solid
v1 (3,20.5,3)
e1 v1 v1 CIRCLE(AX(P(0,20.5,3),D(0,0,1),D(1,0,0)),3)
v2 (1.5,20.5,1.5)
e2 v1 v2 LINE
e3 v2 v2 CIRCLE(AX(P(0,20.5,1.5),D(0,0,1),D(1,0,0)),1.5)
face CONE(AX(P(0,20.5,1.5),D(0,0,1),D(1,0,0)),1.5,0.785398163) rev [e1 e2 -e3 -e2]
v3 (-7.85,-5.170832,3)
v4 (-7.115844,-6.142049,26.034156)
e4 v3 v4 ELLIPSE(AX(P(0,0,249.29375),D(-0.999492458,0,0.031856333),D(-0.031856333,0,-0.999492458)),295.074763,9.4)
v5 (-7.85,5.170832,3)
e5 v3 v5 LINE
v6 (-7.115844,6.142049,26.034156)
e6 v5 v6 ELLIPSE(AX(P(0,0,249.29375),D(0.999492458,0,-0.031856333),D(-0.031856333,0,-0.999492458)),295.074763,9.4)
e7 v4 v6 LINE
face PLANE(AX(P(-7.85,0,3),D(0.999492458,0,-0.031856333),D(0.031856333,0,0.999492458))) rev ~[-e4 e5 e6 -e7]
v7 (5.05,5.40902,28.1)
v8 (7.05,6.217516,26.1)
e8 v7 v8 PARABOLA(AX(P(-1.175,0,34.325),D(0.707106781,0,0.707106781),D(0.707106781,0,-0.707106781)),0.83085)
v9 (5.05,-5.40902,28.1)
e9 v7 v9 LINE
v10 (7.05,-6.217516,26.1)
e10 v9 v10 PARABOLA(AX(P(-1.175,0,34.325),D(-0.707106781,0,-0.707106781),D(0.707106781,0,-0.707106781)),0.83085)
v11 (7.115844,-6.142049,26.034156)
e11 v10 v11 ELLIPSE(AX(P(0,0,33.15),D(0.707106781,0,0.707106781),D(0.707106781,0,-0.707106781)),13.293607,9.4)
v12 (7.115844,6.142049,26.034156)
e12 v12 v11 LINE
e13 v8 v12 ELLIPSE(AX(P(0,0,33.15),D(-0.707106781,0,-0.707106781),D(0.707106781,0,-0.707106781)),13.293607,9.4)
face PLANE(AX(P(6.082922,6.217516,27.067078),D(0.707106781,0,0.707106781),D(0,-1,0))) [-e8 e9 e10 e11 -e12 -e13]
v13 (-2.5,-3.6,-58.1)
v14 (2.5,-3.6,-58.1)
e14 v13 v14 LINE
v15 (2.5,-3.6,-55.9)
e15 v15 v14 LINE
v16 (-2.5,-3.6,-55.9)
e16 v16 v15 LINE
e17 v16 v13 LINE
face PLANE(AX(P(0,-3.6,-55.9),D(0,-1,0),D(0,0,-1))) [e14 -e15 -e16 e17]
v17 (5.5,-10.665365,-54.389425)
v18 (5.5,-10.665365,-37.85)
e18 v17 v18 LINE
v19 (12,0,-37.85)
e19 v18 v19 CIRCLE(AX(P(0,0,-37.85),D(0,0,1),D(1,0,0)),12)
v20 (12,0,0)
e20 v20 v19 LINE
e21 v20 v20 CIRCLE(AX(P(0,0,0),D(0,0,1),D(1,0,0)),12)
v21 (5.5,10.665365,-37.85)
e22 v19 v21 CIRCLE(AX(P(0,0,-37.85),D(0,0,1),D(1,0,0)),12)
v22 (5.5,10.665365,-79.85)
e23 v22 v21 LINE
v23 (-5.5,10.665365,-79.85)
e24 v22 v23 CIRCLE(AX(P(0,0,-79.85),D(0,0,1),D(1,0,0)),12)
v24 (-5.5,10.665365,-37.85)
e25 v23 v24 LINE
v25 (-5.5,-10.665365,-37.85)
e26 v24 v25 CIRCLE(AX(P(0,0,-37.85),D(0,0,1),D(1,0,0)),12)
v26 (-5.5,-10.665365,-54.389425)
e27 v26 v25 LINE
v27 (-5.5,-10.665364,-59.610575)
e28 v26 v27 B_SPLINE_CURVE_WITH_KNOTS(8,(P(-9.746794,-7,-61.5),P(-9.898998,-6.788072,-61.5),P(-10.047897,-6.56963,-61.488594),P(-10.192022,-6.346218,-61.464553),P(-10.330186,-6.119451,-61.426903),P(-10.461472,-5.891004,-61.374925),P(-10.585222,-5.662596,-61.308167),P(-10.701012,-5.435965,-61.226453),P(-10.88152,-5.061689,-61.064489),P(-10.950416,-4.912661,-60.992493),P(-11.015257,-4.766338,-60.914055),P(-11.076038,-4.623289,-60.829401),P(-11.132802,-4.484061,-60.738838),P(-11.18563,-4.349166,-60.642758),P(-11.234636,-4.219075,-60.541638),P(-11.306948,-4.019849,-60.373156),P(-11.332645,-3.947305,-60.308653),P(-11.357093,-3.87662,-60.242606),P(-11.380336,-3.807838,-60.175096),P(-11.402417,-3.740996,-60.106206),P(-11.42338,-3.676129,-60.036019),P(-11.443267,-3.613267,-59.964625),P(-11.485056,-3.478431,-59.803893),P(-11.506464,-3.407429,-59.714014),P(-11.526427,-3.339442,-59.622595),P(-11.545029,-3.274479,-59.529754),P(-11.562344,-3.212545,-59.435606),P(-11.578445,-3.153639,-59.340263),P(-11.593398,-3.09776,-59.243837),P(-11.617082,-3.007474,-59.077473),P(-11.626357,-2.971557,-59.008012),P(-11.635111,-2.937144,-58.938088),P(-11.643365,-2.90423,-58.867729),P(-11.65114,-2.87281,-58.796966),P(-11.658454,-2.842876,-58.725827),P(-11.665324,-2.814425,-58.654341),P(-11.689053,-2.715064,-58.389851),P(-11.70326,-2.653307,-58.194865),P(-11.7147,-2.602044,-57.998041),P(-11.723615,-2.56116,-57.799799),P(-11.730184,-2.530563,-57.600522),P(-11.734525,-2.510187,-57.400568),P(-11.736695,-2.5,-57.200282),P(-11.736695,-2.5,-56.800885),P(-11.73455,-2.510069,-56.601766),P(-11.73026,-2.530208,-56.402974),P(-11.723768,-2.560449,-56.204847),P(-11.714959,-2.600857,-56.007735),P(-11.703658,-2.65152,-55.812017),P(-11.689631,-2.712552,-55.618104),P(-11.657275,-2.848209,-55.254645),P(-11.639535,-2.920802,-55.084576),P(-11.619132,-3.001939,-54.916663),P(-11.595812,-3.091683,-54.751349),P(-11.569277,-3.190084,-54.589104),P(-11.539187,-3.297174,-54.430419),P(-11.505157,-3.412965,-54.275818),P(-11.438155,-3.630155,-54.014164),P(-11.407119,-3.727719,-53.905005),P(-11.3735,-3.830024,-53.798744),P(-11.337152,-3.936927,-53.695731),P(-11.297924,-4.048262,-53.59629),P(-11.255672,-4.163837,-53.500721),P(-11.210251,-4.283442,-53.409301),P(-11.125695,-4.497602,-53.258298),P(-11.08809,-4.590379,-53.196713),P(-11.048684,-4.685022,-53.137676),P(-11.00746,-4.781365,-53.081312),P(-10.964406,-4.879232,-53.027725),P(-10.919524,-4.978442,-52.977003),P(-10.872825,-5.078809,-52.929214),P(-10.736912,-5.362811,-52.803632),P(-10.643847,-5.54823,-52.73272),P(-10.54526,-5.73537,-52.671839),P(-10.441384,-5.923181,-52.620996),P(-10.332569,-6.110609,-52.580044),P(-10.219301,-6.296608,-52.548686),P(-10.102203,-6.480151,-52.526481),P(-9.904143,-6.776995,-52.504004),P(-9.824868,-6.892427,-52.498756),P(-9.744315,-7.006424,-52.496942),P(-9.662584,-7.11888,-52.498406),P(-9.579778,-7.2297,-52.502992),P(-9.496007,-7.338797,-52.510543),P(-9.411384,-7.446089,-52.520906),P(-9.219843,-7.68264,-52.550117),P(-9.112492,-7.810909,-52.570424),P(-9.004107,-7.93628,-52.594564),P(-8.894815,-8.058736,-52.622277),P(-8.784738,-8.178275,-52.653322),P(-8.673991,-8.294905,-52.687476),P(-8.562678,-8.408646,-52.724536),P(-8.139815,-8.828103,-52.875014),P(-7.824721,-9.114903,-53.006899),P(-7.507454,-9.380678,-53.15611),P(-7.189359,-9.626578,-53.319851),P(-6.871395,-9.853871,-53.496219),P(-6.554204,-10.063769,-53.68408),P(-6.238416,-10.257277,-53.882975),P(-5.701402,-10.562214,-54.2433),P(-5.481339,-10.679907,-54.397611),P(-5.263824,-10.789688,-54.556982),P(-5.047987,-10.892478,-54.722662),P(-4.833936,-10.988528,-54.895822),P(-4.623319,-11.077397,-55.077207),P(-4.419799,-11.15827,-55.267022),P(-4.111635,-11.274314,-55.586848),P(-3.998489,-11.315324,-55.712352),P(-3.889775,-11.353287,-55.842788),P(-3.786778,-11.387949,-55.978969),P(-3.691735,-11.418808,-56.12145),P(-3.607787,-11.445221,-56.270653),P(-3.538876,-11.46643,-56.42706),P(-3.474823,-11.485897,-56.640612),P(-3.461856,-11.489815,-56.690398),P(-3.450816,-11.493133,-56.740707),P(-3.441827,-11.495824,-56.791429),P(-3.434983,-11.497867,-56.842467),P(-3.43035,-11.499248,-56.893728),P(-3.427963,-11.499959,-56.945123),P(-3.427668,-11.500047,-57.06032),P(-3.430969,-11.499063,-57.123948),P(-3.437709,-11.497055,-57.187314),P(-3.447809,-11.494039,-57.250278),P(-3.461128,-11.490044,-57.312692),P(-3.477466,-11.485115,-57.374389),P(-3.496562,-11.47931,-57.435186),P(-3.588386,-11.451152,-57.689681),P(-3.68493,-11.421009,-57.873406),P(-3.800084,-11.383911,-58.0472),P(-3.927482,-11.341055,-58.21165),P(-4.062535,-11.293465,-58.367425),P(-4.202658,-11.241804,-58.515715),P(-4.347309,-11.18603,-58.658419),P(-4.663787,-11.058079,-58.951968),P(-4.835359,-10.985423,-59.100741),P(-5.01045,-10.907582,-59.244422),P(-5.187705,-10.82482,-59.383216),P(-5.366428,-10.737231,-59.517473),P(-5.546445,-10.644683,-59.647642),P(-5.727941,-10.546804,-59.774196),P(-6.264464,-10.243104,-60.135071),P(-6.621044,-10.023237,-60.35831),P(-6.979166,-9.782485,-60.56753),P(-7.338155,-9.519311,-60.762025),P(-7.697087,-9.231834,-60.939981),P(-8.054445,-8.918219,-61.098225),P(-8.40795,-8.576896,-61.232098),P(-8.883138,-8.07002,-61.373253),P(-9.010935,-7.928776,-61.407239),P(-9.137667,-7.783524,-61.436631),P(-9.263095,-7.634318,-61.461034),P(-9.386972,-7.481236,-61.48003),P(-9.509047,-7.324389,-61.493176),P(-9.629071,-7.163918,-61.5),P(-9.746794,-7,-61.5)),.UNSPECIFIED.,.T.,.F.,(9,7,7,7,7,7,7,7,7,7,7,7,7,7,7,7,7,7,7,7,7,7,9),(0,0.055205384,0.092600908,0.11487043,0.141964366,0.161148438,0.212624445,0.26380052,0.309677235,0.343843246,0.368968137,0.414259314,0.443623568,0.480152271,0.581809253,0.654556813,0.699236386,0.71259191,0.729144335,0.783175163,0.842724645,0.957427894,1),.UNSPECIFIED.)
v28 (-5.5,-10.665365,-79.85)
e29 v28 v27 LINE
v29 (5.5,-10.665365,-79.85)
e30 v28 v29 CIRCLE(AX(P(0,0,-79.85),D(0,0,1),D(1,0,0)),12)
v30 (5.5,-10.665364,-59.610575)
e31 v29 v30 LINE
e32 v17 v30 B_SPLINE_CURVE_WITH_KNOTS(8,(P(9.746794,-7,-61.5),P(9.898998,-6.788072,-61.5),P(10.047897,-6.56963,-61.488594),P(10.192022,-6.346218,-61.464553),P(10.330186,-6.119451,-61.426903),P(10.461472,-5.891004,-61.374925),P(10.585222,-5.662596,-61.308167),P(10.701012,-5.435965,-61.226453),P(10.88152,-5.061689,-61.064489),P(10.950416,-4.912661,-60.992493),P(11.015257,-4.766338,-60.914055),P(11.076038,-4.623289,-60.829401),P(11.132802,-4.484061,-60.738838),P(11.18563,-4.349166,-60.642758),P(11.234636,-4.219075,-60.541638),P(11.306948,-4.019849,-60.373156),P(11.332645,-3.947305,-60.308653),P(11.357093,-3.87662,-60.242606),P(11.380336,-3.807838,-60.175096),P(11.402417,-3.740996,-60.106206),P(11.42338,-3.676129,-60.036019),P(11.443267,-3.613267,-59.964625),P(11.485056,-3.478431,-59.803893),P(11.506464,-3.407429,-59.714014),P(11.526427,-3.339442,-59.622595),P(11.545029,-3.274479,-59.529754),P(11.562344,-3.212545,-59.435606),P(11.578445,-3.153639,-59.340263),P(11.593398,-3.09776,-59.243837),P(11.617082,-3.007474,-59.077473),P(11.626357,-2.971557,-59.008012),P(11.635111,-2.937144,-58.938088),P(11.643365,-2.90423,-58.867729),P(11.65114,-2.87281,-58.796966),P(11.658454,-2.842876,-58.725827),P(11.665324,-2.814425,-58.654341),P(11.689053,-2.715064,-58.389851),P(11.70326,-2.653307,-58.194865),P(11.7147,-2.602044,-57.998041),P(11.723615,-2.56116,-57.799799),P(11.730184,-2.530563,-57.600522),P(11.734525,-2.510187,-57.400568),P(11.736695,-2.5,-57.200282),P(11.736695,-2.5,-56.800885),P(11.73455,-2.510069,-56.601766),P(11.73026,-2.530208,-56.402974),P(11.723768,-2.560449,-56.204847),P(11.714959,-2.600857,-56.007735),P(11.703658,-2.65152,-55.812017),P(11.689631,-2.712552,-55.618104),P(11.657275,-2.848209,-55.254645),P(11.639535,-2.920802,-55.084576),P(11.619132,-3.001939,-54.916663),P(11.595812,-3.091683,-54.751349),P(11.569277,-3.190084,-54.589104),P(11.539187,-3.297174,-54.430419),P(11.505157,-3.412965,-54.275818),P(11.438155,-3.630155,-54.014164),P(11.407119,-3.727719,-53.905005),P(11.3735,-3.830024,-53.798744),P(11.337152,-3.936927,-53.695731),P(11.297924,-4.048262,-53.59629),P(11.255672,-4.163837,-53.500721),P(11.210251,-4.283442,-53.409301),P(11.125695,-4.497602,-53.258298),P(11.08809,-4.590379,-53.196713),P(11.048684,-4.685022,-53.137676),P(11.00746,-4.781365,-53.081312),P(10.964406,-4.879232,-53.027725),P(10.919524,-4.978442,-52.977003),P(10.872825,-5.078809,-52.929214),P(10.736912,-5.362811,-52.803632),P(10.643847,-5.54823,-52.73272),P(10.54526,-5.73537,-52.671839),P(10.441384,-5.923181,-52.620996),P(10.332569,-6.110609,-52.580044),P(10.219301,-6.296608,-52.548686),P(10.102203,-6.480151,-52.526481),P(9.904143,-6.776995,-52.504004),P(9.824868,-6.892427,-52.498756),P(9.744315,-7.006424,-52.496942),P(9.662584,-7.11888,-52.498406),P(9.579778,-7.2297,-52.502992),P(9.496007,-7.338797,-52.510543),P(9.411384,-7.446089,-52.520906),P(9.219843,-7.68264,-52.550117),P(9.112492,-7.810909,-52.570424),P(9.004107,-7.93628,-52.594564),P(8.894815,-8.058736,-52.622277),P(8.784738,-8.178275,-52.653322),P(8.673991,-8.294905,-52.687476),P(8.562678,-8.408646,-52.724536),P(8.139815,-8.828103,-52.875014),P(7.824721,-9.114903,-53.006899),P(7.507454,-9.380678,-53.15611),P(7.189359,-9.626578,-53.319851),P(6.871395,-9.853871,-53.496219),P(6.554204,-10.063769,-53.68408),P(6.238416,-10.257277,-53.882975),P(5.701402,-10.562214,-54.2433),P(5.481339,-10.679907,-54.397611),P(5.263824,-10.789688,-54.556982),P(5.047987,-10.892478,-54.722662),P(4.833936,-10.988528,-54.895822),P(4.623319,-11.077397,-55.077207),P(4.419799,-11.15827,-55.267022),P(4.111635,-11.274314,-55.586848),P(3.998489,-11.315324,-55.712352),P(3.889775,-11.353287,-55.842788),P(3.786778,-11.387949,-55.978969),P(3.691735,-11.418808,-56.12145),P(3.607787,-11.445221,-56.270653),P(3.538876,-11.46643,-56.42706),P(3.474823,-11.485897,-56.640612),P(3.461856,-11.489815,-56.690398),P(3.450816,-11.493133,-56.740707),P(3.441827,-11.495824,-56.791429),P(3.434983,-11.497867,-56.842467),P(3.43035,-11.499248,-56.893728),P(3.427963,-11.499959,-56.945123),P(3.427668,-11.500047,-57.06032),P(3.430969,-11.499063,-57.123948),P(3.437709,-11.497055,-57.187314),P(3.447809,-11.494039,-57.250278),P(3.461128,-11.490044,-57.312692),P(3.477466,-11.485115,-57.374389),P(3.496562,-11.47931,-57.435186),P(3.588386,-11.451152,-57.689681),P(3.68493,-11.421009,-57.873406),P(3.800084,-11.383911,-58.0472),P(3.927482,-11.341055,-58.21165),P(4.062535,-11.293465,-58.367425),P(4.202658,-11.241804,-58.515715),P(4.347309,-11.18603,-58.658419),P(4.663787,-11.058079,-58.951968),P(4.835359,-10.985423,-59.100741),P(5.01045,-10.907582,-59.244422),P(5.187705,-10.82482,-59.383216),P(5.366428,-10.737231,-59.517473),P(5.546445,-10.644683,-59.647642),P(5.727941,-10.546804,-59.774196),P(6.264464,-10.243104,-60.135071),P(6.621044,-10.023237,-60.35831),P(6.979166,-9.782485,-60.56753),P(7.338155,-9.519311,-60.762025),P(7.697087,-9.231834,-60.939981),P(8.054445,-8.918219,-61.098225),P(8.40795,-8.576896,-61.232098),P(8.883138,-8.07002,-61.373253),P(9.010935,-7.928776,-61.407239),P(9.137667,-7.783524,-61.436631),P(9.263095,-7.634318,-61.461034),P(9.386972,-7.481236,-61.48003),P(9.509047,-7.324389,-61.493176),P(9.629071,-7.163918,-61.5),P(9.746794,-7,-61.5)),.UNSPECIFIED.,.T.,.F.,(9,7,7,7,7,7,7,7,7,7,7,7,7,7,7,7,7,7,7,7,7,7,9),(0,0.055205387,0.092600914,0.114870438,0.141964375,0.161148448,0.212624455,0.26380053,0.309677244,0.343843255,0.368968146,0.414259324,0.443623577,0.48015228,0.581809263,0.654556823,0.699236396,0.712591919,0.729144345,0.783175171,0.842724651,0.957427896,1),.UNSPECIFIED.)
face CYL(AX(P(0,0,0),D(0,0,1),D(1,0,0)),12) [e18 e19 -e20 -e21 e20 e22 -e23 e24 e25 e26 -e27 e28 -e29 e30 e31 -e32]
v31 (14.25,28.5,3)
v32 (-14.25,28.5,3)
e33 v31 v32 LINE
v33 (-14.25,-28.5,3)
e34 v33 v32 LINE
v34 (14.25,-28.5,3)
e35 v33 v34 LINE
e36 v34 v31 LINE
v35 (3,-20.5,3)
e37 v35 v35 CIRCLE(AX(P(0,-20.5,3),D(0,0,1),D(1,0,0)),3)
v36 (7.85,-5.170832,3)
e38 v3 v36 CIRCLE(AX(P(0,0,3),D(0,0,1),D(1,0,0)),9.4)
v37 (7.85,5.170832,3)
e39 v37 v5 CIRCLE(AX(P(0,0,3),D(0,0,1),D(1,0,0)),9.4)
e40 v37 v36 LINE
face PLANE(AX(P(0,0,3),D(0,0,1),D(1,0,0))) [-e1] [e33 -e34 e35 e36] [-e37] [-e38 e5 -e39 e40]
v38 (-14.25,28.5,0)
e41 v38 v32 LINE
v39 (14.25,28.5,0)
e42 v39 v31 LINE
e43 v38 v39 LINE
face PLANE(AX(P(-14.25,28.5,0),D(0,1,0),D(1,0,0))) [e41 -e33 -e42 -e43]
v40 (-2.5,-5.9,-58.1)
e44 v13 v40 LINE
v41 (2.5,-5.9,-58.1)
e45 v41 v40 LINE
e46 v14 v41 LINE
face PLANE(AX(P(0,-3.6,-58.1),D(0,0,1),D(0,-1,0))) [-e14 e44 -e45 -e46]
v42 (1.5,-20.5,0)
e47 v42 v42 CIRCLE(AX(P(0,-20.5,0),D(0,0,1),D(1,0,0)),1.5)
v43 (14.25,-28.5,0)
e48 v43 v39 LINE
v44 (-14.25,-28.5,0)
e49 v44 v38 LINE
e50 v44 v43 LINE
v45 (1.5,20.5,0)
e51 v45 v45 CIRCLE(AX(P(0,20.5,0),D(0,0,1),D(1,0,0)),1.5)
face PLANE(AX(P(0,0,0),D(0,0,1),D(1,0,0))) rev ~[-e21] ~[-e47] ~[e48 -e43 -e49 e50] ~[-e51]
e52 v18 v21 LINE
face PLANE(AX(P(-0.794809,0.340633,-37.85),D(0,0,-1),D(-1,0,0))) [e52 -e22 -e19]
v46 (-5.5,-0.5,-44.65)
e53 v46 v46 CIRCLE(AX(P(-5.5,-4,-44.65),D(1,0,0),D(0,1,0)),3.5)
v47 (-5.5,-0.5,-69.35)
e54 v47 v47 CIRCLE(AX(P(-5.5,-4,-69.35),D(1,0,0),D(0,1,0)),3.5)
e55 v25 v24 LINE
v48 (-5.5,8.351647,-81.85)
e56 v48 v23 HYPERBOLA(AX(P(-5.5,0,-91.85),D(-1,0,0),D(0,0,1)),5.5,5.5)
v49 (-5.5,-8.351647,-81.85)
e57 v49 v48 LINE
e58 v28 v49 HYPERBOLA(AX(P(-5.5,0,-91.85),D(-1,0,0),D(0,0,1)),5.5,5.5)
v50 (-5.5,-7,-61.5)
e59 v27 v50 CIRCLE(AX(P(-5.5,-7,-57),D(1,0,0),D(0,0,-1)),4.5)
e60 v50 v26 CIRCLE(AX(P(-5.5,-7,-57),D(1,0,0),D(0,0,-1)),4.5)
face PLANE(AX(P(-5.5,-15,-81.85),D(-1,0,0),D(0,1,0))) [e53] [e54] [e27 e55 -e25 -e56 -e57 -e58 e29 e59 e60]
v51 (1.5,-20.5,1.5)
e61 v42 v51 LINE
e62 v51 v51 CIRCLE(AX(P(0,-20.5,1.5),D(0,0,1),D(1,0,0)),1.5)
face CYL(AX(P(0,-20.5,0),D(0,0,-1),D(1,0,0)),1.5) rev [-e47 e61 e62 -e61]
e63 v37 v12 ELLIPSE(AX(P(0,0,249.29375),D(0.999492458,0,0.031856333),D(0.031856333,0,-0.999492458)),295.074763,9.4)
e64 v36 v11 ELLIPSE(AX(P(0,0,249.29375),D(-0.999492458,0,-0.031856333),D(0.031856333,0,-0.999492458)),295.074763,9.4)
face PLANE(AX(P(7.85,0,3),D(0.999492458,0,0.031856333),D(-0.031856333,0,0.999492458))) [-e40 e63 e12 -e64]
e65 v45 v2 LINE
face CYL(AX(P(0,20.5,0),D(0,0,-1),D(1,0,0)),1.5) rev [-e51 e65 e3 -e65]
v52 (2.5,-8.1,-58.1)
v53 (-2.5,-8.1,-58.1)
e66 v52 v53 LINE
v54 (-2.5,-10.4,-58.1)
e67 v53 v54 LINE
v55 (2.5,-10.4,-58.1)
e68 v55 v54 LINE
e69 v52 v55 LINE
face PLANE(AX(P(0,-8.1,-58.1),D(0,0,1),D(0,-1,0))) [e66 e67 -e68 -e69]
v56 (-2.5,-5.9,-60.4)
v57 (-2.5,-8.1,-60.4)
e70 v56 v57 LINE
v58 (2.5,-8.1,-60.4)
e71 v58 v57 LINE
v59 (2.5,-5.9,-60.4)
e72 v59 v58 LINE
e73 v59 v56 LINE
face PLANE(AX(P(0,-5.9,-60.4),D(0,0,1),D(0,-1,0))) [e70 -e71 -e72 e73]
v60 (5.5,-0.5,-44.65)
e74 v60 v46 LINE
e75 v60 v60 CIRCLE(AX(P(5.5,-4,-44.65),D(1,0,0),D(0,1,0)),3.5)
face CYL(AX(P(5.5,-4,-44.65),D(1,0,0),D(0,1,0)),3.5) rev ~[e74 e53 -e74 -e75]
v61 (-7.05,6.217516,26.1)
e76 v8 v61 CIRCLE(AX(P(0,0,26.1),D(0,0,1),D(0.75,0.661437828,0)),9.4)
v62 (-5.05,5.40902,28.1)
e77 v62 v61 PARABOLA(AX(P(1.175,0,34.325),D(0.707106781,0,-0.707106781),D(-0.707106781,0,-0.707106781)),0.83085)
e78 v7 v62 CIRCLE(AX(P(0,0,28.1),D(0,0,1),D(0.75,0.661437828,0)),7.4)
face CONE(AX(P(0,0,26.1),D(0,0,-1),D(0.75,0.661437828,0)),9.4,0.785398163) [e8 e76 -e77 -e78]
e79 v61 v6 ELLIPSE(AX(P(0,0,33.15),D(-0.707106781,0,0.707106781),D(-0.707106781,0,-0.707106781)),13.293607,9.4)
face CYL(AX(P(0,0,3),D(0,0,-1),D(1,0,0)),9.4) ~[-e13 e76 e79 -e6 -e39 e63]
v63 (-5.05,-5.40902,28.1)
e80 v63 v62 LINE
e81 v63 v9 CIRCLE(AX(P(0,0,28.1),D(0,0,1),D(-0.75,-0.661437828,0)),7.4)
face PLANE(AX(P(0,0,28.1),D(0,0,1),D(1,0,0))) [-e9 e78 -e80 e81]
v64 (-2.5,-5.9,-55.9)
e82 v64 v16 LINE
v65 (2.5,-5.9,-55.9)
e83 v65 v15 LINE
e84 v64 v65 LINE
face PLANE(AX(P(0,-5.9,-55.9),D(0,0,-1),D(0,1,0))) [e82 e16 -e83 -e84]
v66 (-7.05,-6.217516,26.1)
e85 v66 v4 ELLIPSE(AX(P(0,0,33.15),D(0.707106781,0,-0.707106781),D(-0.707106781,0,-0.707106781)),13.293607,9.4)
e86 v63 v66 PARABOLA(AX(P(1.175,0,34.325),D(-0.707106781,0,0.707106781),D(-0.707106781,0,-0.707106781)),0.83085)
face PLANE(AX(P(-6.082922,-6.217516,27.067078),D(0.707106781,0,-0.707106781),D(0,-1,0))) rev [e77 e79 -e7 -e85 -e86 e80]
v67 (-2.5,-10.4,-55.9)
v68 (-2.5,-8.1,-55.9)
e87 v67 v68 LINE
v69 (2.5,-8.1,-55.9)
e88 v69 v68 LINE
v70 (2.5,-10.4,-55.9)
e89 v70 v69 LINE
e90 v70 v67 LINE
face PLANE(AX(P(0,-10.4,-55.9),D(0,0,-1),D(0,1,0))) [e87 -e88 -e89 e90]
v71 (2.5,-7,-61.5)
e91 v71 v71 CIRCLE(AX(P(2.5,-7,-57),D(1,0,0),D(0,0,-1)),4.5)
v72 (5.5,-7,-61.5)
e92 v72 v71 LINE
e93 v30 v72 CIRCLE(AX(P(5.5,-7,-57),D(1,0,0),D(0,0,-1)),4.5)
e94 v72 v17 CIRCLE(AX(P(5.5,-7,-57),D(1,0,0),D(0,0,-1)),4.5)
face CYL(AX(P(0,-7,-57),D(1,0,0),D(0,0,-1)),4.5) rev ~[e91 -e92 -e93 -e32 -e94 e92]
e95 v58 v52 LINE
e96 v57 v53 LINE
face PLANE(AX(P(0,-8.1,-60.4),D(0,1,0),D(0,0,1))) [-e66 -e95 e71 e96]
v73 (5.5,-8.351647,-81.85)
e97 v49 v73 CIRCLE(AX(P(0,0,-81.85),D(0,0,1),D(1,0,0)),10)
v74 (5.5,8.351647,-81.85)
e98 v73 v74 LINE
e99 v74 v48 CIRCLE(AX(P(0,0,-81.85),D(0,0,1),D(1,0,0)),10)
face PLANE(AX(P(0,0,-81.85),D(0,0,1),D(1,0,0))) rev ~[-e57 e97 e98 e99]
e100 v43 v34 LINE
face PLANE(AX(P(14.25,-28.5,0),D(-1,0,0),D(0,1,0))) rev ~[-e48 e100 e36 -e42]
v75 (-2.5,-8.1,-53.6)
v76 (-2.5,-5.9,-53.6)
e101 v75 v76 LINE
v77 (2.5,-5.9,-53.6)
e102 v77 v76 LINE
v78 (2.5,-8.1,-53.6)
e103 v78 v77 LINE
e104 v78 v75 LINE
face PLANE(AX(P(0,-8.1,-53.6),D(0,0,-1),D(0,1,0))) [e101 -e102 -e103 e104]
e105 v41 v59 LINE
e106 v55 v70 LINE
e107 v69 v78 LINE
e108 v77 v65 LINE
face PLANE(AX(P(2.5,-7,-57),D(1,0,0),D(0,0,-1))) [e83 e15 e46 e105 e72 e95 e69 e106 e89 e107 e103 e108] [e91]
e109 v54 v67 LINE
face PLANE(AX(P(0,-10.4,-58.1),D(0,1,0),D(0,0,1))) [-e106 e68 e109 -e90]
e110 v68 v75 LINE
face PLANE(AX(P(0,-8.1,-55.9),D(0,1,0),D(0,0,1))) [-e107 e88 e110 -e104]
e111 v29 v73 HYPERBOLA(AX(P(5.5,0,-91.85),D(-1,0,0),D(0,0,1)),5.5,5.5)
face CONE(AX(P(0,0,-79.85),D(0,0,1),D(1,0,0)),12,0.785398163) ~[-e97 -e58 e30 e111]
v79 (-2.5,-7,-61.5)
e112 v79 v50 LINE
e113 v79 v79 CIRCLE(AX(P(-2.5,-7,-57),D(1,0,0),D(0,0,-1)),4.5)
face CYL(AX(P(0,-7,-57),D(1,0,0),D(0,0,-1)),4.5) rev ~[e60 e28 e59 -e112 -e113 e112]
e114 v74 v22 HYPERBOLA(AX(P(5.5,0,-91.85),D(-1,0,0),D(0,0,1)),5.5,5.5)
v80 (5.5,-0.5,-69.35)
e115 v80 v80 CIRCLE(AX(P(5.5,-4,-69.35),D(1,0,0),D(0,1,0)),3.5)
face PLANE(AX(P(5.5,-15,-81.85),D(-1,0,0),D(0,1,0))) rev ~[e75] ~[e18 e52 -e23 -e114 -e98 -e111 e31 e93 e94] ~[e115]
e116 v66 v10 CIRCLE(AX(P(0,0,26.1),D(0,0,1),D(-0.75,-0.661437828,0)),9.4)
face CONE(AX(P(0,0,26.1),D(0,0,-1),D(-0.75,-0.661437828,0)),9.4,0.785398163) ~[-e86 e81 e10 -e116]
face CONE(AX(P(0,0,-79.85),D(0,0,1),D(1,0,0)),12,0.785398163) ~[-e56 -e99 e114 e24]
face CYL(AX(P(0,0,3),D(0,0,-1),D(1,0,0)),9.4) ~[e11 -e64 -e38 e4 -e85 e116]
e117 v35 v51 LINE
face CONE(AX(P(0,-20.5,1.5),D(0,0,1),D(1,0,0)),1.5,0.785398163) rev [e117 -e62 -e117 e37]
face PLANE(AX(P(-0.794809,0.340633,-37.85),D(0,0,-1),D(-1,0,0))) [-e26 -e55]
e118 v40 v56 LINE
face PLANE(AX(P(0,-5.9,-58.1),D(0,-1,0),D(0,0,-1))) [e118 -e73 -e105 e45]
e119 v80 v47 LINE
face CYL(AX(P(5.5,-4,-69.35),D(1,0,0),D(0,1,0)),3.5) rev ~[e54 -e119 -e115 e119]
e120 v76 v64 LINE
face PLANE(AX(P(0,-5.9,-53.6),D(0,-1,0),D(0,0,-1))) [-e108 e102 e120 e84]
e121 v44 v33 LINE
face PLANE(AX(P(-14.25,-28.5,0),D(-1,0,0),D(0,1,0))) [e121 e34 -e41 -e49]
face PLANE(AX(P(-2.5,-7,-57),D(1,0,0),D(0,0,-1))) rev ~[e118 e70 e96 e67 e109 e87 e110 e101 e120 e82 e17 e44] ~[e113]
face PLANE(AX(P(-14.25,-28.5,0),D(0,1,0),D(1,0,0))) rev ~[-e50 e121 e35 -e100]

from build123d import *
from OCP.BRepFilletAPI import BRepFilletAPI_MakeChamfer

# Parameters (mm, degrees)
SKETCH2_R                = 12
BOSS_EXTRUDE1_DEPTH      = 81.85
SKETCH3_W                = 28.5
SKETCH3_H                = 57
SKETCH3_R                = 1.5
BOSS_EXTRUDE2_DEPTH      = 3
CHAMFER1_SIZE            = 1.5
SKETCH4_R                = 9.4
BOSS_EXTRUDE3_DEPTH      = 25.1
CUT_EXTRUDE1_DEPTH       = 88.8335642
CUT_EXTRUDE1_DEPTH_BACK  = 88.8335642
CHAMFER2_SIZE            = 2
CHAMFER2_SIZE2           = 2.066892656
CHAMFER3_SIZE            = 2
SKETCH6_R                = 4.5
CUT_EXTRUDE2_DEPTH       = 88.8335642
CUT_EXTRUDE2_DEPTH_BACK  = 88.8335642
SKETCH7_W                = 35.652875986
SKETCH7_H                = 43.298184849
SKETCH7_W_2              = 11
SKETCH7_H_2              = 30
CUT_EXTRUDE3_DEPTH       = 44
SKETCH8_R                = 4.5
BOSS_EXTRUDE4_DEPTH      = 2.5
BOSS_EXTRUDE4_DEPTH_BACK = 2.5
SKETCH9_R                = 3.5
CUT_EXTRUDE4_DEPTH       = 89.891703775


with BuildPart() as part:
    # Sketch2 → Boss-Extrude1 (new body)
    with BuildSketch(Plane.XY):
        Circle(SKETCH2_R)
    extrude(amount=-BOSS_EXTRUDE1_DEPTH)

    # Sketch3 → Boss-Extrude2 (add)
    with BuildSketch(Plane.XY):
        Rectangle(SKETCH3_W, SKETCH3_H)
        with Locations((0, 20.5)):
            Circle(SKETCH3_R, mode=Mode.SUBTRACT)
        with Locations((0, -20.5)):
            Circle(SKETCH3_R, mode=Mode.SUBTRACT)
    extrude(amount=BOSS_EXTRUDE2_DEPTH)

    # Chamfer1
    chamfer1_edges = [part.edges().sort_by_distance(p)[0] for p in [
        (-1.5, 20.5, 3),
        (-1.5, -20.5, 3),
    ]]
    chamfer(chamfer1_edges, length=CHAMFER1_SIZE)

    # Sketch4 → Boss-Extrude3 (add)
    with BuildSketch(Plane.XY.offset(3)):
        Circle(SKETCH4_R)
    extrude(amount=BOSS_EXTRUDE3_DEPTH)

    # Sketch5 → Cut-Extrude1 (cut, two sides)
    with BuildSketch(Plane(origin=(0, 0, 0), x_dir=(1, 0, 0), z_dir=(0, 1, 0))) as cut_extrude1_sk:
        Polygon((-7.85, -3), (-7.05, -28.1), (-9.4, -28.1), (-9.4, -3), align=None)
        Polygon((9.4, -3), (7.85, -3), (7.05, -28.1), (9.4, -28.1), align=None)
    extrude(amount=CUT_EXTRUDE1_DEPTH, mode=Mode.SUBTRACT)
    extrude(cut_extrude1_sk.sketch, amount=-CUT_EXTRUDE1_DEPTH_BACK, mode=Mode.SUBTRACT)

    # Chamfer2: one chamfer whose edges measure the first distance from different faces: ONE call of the kernel's chamfer builder (chamfer() names one face for all edges)
    chamfer2_edges_1 = [part.edges().sort_by_distance(p)[0] for p in [
        (0, -9.4, 28.1),
        (0, 9.4, 28.1),
    ]]
    chamfer2_edges_2 = [part.edges().sort_by_distance(p)[0] for p in [
        (7.05, 0, 28.1),
        (-7.05, 0, 28.1),
    ]]
    chamfer2_side_2 = [part.faces().sort_by_distance(p)[0] for p in [
        (0, 0, 28.1),
    ]]
    chamfer2 = BRepFilletAPI_MakeChamfer(part.part.solid().wrapped)
    for e in chamfer2_edges_1:
        chamfer2.Add(CHAMFER2_SIZE, e.wrapped)
    for e in chamfer2_edges_2:
        chamfer2.Add(CHAMFER2_SIZE, CHAMFER2_SIZE2, e.wrapped, chamfer2_side_2[0].wrapped)  # the first distance lies on this face
    add(Compound.cast(chamfer2.Shape()), mode=Mode.REPLACE)

    # Chamfer3
    chamfer3_edges = [part.edges().sort_by_distance(p)[0] for p in [
        (-12, 0, -81.85),
    ]]
    chamfer(chamfer3_edges, length=CHAMFER3_SIZE)

    # Sketch6 → Cut-Extrude2 (cut, two sides)
    with BuildSketch(Plane(origin=(0, 0, 0), x_dir=(0, 0, -1), z_dir=(1, 0, 0))) as cut_extrude2_sk:
        with Locations((57, -7)):
            Circle(SKETCH6_R)
    extrude(amount=CUT_EXTRUDE2_DEPTH, mode=Mode.SUBTRACT)
    extrude(cut_extrude2_sk.sketch, amount=-CUT_EXTRUDE2_DEPTH_BACK, mode=Mode.SUBTRACT)

    # Sketch7 → Cut-Extrude3 (cut)
    with BuildSketch(Plane(origin=(0, 0, -81.85), x_dir=(-1, 0, 0), z_dir=(0, 0, -1))):
        with Locations((0.794809337, 0.340632573)):
            Rectangle(SKETCH7_W, SKETCH7_H)
        Rectangle(SKETCH7_W_2, SKETCH7_H_2, mode=Mode.SUBTRACT)
    extrude(amount=-CUT_EXTRUDE3_DEPTH, mode=Mode.SUBTRACT)

    # Sketch8 → Boss-Extrude4 (add, two sides)
    with BuildSketch(Plane(origin=(0, 0, 0), x_dir=(0, 0, -1), z_dir=(1, 0, 0))) as boss_extrude4_sk:
        with Locations((57, -7)):
            Circle(SKETCH8_R)
        Polygon((55.9, -5.9), (55.9, -3.6), (58.1, -3.6), (58.1, -5.9), (60.4, -5.9), (60.4, -8.1), (58.1, -8.1), (58.1, -10.4), (55.9, -10.4), (55.9, -8.1), (53.6, -8.1), (53.6, -5.9), align=None, mode=Mode.SUBTRACT)
    extrude(amount=BOSS_EXTRUDE4_DEPTH)
    extrude(boss_extrude4_sk.sketch, amount=-BOSS_EXTRUDE4_DEPTH_BACK)

    # Sketch9 → Cut-Extrude4 (cut, through all)
    with BuildSketch(Plane(origin=(5.5, 0, 0), x_dir=(0, 0, -1), z_dir=(1, 0, 0))):
        with Locations(Location((44.65, -4, 0), (0, 0, 90))):
            Circle(SKETCH9_R)
        with Locations(Location((69.35, -4, 0), (0, 0, 90))):
            Circle(SKETCH9_R)
    extrude(amount=-CUT_EXTRUDE4_DEPTH, mode=Mode.SUBTRACT)


solid = part.part
